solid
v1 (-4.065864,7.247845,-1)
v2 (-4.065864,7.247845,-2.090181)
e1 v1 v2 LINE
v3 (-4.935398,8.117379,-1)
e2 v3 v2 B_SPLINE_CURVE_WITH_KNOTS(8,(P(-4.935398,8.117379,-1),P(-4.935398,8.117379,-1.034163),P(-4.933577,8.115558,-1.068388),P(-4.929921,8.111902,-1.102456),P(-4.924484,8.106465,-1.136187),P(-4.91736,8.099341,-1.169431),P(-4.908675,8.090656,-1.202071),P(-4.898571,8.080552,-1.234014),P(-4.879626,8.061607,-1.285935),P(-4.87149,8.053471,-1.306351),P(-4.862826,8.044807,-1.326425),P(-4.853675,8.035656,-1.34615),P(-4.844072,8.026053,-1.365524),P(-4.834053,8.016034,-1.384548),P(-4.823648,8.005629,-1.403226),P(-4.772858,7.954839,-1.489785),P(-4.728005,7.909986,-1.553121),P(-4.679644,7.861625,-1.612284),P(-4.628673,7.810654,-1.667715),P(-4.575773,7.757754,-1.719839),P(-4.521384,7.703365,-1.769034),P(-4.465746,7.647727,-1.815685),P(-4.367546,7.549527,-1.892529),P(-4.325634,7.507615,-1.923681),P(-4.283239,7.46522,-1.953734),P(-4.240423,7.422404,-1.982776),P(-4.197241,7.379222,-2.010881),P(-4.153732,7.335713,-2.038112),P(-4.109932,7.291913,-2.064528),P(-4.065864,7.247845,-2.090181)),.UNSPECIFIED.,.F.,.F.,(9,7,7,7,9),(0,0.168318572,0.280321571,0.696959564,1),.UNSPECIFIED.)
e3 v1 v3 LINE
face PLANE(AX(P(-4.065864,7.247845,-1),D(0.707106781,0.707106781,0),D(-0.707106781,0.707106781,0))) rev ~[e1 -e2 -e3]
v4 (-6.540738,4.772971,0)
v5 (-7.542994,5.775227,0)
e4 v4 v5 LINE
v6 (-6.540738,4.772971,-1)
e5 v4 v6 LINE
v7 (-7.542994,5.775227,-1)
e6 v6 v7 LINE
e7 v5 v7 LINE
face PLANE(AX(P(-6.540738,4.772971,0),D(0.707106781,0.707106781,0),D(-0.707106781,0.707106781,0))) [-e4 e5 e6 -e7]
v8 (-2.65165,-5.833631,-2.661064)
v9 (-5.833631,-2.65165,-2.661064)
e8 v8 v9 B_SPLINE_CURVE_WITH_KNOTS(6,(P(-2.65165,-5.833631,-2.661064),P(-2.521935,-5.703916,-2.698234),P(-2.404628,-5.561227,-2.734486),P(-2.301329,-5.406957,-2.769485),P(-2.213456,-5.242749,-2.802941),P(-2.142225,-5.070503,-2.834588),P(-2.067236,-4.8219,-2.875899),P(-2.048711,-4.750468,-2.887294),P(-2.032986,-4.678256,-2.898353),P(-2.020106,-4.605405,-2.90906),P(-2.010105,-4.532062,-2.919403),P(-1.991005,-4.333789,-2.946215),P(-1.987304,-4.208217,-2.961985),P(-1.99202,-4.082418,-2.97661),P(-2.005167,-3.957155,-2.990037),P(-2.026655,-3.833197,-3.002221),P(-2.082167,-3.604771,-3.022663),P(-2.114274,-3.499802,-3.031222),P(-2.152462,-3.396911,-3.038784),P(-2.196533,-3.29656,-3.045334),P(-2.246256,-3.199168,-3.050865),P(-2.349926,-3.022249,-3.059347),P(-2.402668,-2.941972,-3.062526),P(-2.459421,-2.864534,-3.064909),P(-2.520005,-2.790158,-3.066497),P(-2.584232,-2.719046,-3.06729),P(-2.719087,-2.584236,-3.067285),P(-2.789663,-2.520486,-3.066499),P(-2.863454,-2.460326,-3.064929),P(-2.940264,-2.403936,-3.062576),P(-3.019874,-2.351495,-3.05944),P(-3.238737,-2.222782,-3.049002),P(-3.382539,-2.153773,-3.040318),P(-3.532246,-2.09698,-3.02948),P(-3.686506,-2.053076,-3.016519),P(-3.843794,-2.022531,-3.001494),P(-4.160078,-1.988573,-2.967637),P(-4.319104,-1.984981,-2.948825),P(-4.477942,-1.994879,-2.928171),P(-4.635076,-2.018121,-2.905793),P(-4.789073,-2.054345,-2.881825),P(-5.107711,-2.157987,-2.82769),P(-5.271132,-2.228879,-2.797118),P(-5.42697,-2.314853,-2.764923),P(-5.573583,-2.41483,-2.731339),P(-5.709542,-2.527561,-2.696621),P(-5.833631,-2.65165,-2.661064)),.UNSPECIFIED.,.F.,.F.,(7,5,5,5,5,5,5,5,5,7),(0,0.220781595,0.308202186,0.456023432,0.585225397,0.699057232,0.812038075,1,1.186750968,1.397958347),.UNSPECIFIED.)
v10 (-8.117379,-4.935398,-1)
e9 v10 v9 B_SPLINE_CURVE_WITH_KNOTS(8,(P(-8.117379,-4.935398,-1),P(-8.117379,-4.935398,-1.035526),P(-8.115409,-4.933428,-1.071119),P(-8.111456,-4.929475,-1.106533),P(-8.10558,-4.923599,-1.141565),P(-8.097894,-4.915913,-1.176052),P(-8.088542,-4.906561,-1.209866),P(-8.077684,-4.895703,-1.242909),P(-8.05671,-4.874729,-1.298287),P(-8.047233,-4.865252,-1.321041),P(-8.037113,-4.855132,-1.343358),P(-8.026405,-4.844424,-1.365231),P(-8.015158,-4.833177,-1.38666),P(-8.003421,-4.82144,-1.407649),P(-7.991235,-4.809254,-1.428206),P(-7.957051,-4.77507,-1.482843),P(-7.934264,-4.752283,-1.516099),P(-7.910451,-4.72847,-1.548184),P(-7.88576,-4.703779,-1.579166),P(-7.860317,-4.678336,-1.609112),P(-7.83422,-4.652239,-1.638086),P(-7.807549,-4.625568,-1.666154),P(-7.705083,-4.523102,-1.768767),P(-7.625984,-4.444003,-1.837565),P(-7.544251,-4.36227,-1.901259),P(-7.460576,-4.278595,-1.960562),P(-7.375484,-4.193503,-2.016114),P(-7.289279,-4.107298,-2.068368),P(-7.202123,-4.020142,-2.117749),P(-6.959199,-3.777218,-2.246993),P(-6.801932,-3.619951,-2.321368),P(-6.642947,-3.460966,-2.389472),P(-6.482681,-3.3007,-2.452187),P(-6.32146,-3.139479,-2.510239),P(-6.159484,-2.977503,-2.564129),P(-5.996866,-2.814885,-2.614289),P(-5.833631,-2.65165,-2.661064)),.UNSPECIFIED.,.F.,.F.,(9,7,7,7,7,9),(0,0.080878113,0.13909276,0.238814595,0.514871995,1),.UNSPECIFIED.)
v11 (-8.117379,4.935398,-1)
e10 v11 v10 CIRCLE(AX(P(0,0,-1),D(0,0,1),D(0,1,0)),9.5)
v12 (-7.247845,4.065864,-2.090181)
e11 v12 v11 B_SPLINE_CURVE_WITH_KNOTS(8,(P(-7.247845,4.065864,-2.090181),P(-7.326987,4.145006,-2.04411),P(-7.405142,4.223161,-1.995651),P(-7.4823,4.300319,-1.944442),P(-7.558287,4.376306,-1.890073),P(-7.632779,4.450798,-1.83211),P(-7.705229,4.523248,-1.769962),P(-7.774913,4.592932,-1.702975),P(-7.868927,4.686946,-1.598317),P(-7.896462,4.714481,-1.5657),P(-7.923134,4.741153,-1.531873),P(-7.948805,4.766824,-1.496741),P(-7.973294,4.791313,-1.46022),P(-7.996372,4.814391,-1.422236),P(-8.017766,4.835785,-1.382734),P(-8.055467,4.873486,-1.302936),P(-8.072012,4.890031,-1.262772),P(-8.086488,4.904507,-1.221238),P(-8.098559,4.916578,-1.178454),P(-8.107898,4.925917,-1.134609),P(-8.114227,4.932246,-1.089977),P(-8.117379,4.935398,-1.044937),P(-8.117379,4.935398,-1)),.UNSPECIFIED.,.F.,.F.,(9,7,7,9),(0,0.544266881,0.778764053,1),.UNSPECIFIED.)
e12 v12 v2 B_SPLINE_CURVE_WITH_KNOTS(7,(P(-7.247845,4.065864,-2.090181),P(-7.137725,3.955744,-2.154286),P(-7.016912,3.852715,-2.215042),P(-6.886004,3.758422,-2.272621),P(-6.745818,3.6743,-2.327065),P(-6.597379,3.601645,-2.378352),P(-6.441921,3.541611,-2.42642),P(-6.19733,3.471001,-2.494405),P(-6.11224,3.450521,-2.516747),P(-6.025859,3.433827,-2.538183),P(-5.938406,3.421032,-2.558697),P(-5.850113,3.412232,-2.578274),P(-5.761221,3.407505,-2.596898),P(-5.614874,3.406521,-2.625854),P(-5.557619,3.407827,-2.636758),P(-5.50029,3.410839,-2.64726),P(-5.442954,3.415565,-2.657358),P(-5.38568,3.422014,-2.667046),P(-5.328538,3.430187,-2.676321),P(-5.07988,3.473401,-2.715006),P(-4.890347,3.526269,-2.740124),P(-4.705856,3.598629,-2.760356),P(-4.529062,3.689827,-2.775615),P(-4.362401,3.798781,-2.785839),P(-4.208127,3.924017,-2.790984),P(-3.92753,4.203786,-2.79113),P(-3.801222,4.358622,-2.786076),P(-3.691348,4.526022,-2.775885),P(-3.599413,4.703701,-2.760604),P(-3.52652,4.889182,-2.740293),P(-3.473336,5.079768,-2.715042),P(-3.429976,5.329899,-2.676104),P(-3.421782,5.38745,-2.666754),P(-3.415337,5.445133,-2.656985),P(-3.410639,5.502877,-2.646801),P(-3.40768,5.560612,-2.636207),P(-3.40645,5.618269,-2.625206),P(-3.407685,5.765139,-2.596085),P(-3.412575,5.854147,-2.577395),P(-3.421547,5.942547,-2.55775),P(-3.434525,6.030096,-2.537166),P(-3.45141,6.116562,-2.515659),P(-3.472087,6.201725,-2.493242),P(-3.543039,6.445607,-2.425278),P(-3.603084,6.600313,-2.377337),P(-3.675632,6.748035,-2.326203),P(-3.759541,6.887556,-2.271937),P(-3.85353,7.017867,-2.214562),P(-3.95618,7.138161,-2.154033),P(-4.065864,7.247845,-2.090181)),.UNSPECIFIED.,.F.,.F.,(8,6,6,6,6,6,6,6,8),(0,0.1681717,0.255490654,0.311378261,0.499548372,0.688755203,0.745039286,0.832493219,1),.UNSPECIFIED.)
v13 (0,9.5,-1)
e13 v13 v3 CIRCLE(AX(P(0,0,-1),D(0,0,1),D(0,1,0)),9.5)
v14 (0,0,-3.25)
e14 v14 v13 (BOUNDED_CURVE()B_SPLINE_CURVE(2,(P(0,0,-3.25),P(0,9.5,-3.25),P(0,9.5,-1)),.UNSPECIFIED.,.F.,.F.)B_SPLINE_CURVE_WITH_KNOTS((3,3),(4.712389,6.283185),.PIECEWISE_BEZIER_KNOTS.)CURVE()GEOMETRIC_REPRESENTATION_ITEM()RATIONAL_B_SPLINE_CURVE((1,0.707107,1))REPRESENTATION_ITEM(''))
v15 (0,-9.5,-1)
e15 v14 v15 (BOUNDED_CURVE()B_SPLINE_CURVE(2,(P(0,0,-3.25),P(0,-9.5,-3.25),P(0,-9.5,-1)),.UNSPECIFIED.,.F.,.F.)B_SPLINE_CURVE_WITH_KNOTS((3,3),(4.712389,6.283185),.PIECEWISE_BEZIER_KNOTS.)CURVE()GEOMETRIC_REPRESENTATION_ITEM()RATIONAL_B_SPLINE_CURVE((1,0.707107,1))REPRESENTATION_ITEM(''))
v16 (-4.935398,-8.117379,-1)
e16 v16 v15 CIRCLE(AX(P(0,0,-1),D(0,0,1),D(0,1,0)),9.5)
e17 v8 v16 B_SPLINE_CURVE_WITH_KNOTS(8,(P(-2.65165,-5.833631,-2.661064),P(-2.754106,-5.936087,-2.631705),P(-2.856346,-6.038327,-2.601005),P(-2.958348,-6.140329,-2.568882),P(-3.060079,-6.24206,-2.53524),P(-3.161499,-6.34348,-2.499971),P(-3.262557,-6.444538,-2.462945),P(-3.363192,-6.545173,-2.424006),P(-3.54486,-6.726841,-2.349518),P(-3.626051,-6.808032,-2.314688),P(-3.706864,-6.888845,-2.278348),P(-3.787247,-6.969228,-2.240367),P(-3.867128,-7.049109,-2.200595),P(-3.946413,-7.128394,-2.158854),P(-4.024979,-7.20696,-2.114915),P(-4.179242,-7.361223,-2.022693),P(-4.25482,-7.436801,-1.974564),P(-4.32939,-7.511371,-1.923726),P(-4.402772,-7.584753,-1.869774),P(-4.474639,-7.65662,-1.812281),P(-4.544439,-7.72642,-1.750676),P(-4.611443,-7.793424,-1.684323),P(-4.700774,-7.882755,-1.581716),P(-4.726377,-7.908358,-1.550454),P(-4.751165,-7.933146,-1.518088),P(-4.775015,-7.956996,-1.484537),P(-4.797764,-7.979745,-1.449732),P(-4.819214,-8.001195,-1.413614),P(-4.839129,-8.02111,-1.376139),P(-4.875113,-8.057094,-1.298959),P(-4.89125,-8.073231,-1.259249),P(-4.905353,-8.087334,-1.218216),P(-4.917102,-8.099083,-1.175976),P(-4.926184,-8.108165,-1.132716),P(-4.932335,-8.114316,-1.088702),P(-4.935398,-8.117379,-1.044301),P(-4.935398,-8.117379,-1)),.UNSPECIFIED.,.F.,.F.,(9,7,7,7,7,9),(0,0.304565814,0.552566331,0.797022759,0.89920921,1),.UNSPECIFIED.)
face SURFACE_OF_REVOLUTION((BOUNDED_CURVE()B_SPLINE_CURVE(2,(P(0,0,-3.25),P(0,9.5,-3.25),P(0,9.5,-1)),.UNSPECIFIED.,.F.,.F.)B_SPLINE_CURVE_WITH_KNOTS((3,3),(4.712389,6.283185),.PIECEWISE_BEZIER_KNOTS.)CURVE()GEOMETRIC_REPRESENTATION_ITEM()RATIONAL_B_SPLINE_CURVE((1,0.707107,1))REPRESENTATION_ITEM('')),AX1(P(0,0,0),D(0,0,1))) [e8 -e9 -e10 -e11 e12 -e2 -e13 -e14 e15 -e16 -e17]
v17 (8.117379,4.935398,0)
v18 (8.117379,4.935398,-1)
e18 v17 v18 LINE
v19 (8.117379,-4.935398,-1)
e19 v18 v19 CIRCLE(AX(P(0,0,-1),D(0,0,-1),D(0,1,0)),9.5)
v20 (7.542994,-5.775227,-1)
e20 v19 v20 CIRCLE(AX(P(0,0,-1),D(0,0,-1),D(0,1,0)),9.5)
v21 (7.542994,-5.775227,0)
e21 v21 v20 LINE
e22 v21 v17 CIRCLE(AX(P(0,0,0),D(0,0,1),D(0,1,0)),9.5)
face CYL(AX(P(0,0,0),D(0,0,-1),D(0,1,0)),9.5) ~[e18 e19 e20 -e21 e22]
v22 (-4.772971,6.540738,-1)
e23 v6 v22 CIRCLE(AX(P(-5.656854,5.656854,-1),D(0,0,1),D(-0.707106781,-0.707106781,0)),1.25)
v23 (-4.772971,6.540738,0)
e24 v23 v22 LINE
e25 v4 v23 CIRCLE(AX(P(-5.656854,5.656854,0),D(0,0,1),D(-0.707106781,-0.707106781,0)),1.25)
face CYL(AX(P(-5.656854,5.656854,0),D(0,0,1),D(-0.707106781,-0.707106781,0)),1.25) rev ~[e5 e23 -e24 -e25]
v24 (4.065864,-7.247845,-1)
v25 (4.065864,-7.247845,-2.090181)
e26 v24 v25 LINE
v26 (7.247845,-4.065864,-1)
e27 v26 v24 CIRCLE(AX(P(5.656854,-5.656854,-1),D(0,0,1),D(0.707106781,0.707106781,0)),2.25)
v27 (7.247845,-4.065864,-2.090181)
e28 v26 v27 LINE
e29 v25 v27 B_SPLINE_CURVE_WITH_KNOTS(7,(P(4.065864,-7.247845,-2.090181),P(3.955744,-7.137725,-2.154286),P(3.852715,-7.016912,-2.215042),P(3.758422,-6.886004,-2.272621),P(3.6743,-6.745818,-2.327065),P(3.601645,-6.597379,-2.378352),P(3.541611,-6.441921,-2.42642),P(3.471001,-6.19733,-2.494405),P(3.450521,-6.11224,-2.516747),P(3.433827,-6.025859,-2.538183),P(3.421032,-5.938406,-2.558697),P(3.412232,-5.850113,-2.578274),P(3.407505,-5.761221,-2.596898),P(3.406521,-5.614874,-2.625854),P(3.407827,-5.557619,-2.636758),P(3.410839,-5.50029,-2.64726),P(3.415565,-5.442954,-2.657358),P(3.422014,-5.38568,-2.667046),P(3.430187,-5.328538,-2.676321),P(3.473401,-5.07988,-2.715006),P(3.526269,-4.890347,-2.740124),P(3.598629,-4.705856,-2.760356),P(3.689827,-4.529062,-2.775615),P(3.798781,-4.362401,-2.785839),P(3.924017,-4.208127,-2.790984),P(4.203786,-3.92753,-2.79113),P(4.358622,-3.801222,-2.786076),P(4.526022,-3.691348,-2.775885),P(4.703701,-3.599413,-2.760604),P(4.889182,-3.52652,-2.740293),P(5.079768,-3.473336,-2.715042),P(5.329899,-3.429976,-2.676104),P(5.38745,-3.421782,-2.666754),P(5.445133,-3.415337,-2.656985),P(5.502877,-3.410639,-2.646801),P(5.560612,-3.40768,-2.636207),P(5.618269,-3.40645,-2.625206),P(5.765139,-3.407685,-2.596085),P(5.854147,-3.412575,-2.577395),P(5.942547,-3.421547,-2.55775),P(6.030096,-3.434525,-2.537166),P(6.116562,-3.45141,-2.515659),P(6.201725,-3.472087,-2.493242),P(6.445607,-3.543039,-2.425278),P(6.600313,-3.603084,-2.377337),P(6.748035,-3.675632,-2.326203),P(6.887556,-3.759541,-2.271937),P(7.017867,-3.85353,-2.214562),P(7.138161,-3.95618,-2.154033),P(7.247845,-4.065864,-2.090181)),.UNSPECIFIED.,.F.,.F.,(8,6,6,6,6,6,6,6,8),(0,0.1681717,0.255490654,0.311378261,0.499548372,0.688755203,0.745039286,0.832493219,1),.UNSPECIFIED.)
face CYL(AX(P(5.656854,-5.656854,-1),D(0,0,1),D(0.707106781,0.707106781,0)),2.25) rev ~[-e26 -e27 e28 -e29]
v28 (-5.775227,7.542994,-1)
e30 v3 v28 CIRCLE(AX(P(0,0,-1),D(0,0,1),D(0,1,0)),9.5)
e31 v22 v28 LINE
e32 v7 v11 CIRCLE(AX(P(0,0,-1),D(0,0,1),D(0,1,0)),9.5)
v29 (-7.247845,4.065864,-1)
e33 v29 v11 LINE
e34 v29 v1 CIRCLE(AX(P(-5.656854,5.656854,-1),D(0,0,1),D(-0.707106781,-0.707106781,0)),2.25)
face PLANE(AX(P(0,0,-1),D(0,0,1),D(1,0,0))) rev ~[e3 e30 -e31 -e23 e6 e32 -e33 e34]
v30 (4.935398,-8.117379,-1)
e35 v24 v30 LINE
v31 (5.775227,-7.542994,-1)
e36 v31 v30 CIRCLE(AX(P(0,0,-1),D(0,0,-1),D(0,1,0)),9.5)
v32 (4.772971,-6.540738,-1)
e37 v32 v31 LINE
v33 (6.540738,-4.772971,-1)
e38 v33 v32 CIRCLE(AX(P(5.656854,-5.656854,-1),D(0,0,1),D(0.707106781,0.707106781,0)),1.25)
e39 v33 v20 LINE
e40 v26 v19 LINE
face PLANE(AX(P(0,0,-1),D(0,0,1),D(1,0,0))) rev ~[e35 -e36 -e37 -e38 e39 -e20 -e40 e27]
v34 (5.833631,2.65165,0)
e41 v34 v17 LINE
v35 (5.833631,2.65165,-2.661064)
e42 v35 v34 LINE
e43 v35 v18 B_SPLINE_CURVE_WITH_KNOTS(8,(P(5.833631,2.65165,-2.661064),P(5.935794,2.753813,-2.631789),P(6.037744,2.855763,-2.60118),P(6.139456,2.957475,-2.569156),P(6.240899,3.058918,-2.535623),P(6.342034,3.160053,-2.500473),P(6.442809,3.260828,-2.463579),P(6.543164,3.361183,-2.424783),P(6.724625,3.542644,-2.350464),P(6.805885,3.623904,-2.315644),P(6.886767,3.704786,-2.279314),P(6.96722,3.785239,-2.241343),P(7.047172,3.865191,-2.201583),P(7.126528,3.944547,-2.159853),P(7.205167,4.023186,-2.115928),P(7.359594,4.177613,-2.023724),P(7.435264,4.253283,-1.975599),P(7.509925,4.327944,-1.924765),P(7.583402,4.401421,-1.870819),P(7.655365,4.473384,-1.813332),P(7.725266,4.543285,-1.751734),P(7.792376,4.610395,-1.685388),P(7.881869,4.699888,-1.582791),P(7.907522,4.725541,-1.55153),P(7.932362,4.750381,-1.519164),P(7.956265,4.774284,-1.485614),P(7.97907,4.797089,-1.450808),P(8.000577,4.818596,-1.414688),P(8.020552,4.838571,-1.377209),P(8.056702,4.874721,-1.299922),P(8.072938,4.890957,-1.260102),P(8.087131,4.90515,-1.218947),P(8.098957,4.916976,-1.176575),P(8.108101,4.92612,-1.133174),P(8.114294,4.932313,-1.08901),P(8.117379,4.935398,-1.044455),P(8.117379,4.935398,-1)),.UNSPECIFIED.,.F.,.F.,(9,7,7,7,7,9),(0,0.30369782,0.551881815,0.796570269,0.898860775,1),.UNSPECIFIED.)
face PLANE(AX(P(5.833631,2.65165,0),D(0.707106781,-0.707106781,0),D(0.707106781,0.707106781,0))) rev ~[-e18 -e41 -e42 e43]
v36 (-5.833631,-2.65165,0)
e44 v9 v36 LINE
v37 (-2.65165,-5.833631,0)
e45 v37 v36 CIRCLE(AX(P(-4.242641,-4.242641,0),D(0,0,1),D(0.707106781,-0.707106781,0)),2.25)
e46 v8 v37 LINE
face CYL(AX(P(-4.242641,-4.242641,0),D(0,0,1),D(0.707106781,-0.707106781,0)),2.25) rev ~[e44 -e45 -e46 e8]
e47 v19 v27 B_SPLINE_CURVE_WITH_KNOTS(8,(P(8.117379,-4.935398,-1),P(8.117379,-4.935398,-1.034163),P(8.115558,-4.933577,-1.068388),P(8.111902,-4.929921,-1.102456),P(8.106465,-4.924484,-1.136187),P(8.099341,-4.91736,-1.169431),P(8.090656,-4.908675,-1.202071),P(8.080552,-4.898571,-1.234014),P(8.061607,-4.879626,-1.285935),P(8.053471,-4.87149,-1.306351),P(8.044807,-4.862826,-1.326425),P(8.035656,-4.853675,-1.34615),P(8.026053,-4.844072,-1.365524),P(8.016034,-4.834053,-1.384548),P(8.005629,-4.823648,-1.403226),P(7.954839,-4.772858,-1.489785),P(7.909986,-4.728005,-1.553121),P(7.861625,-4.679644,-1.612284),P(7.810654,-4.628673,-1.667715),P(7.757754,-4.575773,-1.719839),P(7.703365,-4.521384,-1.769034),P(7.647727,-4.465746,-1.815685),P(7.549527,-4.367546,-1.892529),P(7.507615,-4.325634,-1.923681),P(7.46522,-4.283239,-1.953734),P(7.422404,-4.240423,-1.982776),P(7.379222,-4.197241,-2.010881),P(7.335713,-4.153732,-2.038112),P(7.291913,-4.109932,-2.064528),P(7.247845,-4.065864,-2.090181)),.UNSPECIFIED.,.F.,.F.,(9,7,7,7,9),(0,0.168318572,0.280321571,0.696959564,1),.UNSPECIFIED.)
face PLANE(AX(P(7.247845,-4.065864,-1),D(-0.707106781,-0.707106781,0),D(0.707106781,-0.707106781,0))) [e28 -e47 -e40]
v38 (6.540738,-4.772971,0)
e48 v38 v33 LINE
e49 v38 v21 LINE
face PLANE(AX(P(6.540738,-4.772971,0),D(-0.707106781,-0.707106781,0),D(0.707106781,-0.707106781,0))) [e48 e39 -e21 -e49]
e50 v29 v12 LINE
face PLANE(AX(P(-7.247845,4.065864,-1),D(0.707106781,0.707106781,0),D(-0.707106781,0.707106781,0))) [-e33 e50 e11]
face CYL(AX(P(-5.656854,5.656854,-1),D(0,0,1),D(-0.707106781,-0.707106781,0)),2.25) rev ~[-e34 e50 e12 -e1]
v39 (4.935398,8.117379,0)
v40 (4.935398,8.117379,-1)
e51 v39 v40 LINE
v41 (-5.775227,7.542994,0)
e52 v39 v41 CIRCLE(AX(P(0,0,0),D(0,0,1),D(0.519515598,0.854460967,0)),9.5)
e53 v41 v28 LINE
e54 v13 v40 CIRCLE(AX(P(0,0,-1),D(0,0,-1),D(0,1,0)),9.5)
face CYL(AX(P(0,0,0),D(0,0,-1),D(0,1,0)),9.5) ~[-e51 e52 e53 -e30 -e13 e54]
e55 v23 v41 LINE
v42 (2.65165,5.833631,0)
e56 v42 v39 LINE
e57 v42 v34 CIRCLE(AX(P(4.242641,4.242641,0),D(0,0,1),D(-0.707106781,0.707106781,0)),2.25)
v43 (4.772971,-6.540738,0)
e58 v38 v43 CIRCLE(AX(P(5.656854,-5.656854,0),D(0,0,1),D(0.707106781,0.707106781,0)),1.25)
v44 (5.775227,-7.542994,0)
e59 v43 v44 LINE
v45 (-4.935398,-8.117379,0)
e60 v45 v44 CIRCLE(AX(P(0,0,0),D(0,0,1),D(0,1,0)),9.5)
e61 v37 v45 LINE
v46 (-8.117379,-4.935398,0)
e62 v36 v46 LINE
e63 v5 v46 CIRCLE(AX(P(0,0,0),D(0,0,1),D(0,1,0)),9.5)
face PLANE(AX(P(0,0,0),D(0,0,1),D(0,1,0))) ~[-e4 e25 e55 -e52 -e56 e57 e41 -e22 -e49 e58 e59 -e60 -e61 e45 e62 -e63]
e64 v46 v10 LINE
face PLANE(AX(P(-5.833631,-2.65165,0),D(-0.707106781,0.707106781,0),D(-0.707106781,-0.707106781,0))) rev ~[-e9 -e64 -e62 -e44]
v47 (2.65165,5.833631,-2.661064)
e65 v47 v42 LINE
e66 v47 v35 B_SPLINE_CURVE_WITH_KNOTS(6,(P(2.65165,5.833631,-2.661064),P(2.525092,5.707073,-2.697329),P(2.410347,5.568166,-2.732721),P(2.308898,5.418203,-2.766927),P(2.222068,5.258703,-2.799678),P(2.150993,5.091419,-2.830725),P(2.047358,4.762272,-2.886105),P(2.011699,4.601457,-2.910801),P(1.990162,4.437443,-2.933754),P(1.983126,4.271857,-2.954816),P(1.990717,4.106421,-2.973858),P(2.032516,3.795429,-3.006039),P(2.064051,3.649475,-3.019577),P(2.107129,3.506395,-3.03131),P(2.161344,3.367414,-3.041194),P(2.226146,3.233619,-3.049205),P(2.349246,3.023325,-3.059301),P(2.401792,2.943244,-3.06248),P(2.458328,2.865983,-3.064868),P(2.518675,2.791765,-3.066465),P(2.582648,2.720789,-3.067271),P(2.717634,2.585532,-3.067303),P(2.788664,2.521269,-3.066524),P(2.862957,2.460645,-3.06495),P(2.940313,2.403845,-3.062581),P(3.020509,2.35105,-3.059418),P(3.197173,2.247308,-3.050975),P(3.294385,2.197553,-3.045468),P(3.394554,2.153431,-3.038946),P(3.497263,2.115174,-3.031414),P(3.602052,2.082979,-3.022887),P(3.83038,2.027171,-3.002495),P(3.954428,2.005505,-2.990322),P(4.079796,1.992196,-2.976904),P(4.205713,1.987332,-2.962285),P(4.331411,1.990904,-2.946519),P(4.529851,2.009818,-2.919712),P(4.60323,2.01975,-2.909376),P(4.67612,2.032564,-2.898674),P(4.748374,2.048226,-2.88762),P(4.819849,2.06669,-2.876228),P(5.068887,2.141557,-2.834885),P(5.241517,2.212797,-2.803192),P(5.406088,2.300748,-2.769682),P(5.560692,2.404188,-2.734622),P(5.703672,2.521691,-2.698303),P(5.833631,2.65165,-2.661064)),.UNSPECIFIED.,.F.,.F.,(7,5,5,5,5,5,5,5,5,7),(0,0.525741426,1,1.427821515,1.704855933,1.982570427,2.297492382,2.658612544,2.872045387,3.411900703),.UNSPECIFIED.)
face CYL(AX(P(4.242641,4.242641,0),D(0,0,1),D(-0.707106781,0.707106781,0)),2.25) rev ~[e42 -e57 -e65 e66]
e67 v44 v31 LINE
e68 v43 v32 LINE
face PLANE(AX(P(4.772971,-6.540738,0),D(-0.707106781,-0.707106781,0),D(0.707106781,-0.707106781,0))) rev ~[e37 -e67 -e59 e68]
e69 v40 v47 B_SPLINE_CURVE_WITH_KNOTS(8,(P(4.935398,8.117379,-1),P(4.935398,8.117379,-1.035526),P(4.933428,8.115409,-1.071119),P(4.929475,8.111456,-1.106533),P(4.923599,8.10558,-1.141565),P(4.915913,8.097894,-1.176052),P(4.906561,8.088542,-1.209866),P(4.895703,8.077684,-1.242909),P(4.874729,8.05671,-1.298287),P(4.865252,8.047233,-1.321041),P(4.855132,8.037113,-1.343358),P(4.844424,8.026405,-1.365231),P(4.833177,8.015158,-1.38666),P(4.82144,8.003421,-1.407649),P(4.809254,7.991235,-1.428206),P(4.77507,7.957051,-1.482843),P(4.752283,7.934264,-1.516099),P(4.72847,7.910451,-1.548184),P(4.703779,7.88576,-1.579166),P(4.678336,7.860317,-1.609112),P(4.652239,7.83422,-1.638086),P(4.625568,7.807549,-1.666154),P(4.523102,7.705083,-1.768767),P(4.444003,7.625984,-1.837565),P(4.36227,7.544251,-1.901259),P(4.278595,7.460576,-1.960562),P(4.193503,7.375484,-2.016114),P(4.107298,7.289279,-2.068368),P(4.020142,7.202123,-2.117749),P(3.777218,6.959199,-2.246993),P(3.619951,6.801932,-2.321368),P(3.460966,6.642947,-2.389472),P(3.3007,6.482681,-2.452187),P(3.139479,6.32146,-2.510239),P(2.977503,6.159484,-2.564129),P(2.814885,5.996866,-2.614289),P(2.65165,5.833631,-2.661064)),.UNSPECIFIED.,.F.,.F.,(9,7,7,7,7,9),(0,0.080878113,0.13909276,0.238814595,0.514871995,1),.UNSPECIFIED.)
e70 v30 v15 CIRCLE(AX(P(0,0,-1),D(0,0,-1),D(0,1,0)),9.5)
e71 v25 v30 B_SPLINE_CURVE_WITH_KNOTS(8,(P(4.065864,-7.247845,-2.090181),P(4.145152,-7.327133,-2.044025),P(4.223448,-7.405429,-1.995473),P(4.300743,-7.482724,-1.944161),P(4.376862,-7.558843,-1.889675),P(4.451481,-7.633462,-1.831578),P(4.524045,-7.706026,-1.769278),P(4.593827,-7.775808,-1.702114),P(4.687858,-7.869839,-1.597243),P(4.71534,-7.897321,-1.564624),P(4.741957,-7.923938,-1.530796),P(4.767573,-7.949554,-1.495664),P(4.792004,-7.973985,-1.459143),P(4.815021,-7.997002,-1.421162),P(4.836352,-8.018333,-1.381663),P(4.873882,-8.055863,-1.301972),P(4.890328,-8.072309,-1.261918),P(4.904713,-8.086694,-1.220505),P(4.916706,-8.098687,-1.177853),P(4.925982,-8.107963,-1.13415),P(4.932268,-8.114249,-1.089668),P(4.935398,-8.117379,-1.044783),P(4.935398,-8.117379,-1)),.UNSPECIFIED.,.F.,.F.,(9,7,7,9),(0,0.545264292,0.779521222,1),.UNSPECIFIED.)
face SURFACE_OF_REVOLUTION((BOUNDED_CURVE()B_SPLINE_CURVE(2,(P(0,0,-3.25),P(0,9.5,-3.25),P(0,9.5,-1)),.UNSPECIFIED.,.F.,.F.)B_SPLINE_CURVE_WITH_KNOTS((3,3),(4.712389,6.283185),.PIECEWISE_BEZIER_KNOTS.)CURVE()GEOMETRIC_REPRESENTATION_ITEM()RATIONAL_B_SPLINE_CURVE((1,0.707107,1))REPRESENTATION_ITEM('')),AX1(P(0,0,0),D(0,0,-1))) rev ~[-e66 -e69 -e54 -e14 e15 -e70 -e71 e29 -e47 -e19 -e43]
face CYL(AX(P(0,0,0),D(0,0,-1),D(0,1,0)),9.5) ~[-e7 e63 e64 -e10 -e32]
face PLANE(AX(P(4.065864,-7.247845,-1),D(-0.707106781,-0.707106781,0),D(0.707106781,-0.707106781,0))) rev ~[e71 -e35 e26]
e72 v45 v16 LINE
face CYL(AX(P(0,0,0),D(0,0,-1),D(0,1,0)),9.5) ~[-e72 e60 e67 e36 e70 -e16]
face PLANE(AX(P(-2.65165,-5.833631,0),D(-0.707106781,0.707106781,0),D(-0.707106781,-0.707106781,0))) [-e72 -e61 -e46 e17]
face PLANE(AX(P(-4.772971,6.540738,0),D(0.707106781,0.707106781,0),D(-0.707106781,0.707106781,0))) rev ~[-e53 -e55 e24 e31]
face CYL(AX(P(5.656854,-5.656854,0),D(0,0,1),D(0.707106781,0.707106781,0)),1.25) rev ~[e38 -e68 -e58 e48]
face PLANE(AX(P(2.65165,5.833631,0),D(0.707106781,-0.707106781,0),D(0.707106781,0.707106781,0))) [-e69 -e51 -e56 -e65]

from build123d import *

# Parameters (mm, degrees)
SKETCH026_R         = 20
PAD026_DEPTH        = 9
SKETCH025_R         = 20
PAD025_DEPTH        = 1
REVOLUTION001_ANGLE = -360


with BuildPart() as screwshouldercutout:
    # Sketch026 → Pad026 (new body)
    with BuildSketch(Plane.XY):
        Circle(SKETCH026_R)
        with BuildLine():
            ThreePointArc((-2.65165, -5.833631), (-2.65165, -2.65165), (-5.833631, -2.65165))
            Line((-5.833631, -2.65165), (-12.077589, -8.895608))
            ThreePointArc((-12.077589, 8.895608), (-15, 0), (-12.077589, -8.895608))
            Line((-7.247845, 4.065864), (-12.077589, 8.895608))
            ThreePointArc((-7.247845, 4.065864), (-4.065864, 4.065864), (-4.065864, 7.247845))
            Line((-4.065864, 7.247845), (-8.895608, 12.077589))
            ThreePointArc((8.895608, 12.077589), (0, 15), (-8.895608, 12.077589))
            Line((2.65165, 5.833631), (8.895608, 12.077589))
            ThreePointArc((2.65165, 5.833631), (2.65165, 2.65165), (5.833631, 2.65165))
            Line((5.833631, 2.65165), (12.077589, 8.895608))
            ThreePointArc((12.077589, -8.895608), (15, 0), (12.077589, 8.895608))
            Line((7.247845, -4.065864), (12.077589, -8.895608))
            ThreePointArc((7.247845, -4.065864), (4.065864, -4.065864), (4.065864, -7.247845))
            Line((4.065864, -7.247845), (8.895608, -12.077589))
            ThreePointArc((-8.895608, -12.077589), (0, -15), (8.895608, -12.077589))
            Line((-2.65165, -5.833631), (-8.895608, -12.077589))
        make_face(mode=Mode.SUBTRACT)
    extrude(amount=-PAD026_DEPTH)


with BuildPart() as screwshouldercutout_1:
    # Body027 placement: moved
    add(screwshouldercutout.part.moved(Location((0, 0, -1))))


with BuildPart() as screwmountcutout:
    # Sketch025 → Pad025 (new body)
    with BuildSketch(Plane.XY):
        Circle(SKETCH025_R)
        with BuildLine():
            ThreePointArc((-2.65165, -5.833631), (-2.65165, -2.65165), (-5.833631, -2.65165))
            Line((-5.833631, -2.65165), (-12.077589, -8.895608))
            ThreePointArc((-11.453593, 9.685826), (-14.991549, 0.503442), (-12.077589, -8.895608))
            Line((-6.540738, 4.772971), (-11.453593, 9.685826))
            ThreePointArc((-6.540738, 4.772971), (-4.772971, 4.772971), (-4.772971, 6.540738))
            Line((-4.772971, 6.540738), (-9.685826, 11.453593))
            ThreePointArc((8.895608, 12.077589), (-0.503442, 14.991549), (-9.685826, 11.453593))
            Line((2.65165, 5.833631), (8.895608, 12.077589))
            ThreePointArc((2.65165, 5.833631), (2.65165, 2.65165), (5.833631, 2.65165))
            Line((5.833631, 2.65165), (12.077589, 8.895608))
            ThreePointArc((11.453593, -9.685826), (14.991549, -0.503442), (12.077589, 8.895608))
            Line((6.540738, -4.772971), (11.453593, -9.685826))
            ThreePointArc((6.540738, -4.772971), (4.772971, -4.772971), (4.772971, -6.540738))
            Line((4.772971, -6.540738), (9.685826, -11.453593))
            ThreePointArc((-8.895608, -12.077589), (0.503442, -14.991549), (9.685826, -11.453593))
            Line((-2.65165, -5.833631), (-8.895608, -12.077589))
        make_face(mode=Mode.SUBTRACT)
    extrude(amount=-PAD025_DEPTH)


with BuildPart() as cone001:
    # Sketch027 → Revolution001 (revolve, symmetric)
    with BuildSketch(Plane.YZ) as revolution001_sk:
        with BuildLine():
            Line((0, 0), (9.5, 0))
            Line((9.5, 0), (9.5, -1))
            add(Edge.make_bspline(
                [(0, -3.25), (9.5, -3.25), (9.5, -1)],
                knots=[4.712389, 4.712389, 4.712389, 6.283185, 6.283185, 6.283185], degree=2, weights=[1, 0.707107, 1]))
            Line((0, -3.25), (0, 0))
        make_face()
    revolve(axis=Axis((0, 0, 0), (0, 0, 1)), revolution_arc=REVOLUTION001_ANGLE / 2)
    revolve(revolution001_sk.sketch, axis=Axis((0, 0, 0), (0, 0, -1)), revolution_arc=REVOLUTION001_ANGLE / 2)

    # Boolean005: cut ScrewShoulderCutout, ScrewMountCutout
    add(screwshouldercutout_1.part, mode=Mode.SUBTRACT)
    add(screwmountcutout.part, mode=Mode.SUBTRACT)


solid = cone001.part
